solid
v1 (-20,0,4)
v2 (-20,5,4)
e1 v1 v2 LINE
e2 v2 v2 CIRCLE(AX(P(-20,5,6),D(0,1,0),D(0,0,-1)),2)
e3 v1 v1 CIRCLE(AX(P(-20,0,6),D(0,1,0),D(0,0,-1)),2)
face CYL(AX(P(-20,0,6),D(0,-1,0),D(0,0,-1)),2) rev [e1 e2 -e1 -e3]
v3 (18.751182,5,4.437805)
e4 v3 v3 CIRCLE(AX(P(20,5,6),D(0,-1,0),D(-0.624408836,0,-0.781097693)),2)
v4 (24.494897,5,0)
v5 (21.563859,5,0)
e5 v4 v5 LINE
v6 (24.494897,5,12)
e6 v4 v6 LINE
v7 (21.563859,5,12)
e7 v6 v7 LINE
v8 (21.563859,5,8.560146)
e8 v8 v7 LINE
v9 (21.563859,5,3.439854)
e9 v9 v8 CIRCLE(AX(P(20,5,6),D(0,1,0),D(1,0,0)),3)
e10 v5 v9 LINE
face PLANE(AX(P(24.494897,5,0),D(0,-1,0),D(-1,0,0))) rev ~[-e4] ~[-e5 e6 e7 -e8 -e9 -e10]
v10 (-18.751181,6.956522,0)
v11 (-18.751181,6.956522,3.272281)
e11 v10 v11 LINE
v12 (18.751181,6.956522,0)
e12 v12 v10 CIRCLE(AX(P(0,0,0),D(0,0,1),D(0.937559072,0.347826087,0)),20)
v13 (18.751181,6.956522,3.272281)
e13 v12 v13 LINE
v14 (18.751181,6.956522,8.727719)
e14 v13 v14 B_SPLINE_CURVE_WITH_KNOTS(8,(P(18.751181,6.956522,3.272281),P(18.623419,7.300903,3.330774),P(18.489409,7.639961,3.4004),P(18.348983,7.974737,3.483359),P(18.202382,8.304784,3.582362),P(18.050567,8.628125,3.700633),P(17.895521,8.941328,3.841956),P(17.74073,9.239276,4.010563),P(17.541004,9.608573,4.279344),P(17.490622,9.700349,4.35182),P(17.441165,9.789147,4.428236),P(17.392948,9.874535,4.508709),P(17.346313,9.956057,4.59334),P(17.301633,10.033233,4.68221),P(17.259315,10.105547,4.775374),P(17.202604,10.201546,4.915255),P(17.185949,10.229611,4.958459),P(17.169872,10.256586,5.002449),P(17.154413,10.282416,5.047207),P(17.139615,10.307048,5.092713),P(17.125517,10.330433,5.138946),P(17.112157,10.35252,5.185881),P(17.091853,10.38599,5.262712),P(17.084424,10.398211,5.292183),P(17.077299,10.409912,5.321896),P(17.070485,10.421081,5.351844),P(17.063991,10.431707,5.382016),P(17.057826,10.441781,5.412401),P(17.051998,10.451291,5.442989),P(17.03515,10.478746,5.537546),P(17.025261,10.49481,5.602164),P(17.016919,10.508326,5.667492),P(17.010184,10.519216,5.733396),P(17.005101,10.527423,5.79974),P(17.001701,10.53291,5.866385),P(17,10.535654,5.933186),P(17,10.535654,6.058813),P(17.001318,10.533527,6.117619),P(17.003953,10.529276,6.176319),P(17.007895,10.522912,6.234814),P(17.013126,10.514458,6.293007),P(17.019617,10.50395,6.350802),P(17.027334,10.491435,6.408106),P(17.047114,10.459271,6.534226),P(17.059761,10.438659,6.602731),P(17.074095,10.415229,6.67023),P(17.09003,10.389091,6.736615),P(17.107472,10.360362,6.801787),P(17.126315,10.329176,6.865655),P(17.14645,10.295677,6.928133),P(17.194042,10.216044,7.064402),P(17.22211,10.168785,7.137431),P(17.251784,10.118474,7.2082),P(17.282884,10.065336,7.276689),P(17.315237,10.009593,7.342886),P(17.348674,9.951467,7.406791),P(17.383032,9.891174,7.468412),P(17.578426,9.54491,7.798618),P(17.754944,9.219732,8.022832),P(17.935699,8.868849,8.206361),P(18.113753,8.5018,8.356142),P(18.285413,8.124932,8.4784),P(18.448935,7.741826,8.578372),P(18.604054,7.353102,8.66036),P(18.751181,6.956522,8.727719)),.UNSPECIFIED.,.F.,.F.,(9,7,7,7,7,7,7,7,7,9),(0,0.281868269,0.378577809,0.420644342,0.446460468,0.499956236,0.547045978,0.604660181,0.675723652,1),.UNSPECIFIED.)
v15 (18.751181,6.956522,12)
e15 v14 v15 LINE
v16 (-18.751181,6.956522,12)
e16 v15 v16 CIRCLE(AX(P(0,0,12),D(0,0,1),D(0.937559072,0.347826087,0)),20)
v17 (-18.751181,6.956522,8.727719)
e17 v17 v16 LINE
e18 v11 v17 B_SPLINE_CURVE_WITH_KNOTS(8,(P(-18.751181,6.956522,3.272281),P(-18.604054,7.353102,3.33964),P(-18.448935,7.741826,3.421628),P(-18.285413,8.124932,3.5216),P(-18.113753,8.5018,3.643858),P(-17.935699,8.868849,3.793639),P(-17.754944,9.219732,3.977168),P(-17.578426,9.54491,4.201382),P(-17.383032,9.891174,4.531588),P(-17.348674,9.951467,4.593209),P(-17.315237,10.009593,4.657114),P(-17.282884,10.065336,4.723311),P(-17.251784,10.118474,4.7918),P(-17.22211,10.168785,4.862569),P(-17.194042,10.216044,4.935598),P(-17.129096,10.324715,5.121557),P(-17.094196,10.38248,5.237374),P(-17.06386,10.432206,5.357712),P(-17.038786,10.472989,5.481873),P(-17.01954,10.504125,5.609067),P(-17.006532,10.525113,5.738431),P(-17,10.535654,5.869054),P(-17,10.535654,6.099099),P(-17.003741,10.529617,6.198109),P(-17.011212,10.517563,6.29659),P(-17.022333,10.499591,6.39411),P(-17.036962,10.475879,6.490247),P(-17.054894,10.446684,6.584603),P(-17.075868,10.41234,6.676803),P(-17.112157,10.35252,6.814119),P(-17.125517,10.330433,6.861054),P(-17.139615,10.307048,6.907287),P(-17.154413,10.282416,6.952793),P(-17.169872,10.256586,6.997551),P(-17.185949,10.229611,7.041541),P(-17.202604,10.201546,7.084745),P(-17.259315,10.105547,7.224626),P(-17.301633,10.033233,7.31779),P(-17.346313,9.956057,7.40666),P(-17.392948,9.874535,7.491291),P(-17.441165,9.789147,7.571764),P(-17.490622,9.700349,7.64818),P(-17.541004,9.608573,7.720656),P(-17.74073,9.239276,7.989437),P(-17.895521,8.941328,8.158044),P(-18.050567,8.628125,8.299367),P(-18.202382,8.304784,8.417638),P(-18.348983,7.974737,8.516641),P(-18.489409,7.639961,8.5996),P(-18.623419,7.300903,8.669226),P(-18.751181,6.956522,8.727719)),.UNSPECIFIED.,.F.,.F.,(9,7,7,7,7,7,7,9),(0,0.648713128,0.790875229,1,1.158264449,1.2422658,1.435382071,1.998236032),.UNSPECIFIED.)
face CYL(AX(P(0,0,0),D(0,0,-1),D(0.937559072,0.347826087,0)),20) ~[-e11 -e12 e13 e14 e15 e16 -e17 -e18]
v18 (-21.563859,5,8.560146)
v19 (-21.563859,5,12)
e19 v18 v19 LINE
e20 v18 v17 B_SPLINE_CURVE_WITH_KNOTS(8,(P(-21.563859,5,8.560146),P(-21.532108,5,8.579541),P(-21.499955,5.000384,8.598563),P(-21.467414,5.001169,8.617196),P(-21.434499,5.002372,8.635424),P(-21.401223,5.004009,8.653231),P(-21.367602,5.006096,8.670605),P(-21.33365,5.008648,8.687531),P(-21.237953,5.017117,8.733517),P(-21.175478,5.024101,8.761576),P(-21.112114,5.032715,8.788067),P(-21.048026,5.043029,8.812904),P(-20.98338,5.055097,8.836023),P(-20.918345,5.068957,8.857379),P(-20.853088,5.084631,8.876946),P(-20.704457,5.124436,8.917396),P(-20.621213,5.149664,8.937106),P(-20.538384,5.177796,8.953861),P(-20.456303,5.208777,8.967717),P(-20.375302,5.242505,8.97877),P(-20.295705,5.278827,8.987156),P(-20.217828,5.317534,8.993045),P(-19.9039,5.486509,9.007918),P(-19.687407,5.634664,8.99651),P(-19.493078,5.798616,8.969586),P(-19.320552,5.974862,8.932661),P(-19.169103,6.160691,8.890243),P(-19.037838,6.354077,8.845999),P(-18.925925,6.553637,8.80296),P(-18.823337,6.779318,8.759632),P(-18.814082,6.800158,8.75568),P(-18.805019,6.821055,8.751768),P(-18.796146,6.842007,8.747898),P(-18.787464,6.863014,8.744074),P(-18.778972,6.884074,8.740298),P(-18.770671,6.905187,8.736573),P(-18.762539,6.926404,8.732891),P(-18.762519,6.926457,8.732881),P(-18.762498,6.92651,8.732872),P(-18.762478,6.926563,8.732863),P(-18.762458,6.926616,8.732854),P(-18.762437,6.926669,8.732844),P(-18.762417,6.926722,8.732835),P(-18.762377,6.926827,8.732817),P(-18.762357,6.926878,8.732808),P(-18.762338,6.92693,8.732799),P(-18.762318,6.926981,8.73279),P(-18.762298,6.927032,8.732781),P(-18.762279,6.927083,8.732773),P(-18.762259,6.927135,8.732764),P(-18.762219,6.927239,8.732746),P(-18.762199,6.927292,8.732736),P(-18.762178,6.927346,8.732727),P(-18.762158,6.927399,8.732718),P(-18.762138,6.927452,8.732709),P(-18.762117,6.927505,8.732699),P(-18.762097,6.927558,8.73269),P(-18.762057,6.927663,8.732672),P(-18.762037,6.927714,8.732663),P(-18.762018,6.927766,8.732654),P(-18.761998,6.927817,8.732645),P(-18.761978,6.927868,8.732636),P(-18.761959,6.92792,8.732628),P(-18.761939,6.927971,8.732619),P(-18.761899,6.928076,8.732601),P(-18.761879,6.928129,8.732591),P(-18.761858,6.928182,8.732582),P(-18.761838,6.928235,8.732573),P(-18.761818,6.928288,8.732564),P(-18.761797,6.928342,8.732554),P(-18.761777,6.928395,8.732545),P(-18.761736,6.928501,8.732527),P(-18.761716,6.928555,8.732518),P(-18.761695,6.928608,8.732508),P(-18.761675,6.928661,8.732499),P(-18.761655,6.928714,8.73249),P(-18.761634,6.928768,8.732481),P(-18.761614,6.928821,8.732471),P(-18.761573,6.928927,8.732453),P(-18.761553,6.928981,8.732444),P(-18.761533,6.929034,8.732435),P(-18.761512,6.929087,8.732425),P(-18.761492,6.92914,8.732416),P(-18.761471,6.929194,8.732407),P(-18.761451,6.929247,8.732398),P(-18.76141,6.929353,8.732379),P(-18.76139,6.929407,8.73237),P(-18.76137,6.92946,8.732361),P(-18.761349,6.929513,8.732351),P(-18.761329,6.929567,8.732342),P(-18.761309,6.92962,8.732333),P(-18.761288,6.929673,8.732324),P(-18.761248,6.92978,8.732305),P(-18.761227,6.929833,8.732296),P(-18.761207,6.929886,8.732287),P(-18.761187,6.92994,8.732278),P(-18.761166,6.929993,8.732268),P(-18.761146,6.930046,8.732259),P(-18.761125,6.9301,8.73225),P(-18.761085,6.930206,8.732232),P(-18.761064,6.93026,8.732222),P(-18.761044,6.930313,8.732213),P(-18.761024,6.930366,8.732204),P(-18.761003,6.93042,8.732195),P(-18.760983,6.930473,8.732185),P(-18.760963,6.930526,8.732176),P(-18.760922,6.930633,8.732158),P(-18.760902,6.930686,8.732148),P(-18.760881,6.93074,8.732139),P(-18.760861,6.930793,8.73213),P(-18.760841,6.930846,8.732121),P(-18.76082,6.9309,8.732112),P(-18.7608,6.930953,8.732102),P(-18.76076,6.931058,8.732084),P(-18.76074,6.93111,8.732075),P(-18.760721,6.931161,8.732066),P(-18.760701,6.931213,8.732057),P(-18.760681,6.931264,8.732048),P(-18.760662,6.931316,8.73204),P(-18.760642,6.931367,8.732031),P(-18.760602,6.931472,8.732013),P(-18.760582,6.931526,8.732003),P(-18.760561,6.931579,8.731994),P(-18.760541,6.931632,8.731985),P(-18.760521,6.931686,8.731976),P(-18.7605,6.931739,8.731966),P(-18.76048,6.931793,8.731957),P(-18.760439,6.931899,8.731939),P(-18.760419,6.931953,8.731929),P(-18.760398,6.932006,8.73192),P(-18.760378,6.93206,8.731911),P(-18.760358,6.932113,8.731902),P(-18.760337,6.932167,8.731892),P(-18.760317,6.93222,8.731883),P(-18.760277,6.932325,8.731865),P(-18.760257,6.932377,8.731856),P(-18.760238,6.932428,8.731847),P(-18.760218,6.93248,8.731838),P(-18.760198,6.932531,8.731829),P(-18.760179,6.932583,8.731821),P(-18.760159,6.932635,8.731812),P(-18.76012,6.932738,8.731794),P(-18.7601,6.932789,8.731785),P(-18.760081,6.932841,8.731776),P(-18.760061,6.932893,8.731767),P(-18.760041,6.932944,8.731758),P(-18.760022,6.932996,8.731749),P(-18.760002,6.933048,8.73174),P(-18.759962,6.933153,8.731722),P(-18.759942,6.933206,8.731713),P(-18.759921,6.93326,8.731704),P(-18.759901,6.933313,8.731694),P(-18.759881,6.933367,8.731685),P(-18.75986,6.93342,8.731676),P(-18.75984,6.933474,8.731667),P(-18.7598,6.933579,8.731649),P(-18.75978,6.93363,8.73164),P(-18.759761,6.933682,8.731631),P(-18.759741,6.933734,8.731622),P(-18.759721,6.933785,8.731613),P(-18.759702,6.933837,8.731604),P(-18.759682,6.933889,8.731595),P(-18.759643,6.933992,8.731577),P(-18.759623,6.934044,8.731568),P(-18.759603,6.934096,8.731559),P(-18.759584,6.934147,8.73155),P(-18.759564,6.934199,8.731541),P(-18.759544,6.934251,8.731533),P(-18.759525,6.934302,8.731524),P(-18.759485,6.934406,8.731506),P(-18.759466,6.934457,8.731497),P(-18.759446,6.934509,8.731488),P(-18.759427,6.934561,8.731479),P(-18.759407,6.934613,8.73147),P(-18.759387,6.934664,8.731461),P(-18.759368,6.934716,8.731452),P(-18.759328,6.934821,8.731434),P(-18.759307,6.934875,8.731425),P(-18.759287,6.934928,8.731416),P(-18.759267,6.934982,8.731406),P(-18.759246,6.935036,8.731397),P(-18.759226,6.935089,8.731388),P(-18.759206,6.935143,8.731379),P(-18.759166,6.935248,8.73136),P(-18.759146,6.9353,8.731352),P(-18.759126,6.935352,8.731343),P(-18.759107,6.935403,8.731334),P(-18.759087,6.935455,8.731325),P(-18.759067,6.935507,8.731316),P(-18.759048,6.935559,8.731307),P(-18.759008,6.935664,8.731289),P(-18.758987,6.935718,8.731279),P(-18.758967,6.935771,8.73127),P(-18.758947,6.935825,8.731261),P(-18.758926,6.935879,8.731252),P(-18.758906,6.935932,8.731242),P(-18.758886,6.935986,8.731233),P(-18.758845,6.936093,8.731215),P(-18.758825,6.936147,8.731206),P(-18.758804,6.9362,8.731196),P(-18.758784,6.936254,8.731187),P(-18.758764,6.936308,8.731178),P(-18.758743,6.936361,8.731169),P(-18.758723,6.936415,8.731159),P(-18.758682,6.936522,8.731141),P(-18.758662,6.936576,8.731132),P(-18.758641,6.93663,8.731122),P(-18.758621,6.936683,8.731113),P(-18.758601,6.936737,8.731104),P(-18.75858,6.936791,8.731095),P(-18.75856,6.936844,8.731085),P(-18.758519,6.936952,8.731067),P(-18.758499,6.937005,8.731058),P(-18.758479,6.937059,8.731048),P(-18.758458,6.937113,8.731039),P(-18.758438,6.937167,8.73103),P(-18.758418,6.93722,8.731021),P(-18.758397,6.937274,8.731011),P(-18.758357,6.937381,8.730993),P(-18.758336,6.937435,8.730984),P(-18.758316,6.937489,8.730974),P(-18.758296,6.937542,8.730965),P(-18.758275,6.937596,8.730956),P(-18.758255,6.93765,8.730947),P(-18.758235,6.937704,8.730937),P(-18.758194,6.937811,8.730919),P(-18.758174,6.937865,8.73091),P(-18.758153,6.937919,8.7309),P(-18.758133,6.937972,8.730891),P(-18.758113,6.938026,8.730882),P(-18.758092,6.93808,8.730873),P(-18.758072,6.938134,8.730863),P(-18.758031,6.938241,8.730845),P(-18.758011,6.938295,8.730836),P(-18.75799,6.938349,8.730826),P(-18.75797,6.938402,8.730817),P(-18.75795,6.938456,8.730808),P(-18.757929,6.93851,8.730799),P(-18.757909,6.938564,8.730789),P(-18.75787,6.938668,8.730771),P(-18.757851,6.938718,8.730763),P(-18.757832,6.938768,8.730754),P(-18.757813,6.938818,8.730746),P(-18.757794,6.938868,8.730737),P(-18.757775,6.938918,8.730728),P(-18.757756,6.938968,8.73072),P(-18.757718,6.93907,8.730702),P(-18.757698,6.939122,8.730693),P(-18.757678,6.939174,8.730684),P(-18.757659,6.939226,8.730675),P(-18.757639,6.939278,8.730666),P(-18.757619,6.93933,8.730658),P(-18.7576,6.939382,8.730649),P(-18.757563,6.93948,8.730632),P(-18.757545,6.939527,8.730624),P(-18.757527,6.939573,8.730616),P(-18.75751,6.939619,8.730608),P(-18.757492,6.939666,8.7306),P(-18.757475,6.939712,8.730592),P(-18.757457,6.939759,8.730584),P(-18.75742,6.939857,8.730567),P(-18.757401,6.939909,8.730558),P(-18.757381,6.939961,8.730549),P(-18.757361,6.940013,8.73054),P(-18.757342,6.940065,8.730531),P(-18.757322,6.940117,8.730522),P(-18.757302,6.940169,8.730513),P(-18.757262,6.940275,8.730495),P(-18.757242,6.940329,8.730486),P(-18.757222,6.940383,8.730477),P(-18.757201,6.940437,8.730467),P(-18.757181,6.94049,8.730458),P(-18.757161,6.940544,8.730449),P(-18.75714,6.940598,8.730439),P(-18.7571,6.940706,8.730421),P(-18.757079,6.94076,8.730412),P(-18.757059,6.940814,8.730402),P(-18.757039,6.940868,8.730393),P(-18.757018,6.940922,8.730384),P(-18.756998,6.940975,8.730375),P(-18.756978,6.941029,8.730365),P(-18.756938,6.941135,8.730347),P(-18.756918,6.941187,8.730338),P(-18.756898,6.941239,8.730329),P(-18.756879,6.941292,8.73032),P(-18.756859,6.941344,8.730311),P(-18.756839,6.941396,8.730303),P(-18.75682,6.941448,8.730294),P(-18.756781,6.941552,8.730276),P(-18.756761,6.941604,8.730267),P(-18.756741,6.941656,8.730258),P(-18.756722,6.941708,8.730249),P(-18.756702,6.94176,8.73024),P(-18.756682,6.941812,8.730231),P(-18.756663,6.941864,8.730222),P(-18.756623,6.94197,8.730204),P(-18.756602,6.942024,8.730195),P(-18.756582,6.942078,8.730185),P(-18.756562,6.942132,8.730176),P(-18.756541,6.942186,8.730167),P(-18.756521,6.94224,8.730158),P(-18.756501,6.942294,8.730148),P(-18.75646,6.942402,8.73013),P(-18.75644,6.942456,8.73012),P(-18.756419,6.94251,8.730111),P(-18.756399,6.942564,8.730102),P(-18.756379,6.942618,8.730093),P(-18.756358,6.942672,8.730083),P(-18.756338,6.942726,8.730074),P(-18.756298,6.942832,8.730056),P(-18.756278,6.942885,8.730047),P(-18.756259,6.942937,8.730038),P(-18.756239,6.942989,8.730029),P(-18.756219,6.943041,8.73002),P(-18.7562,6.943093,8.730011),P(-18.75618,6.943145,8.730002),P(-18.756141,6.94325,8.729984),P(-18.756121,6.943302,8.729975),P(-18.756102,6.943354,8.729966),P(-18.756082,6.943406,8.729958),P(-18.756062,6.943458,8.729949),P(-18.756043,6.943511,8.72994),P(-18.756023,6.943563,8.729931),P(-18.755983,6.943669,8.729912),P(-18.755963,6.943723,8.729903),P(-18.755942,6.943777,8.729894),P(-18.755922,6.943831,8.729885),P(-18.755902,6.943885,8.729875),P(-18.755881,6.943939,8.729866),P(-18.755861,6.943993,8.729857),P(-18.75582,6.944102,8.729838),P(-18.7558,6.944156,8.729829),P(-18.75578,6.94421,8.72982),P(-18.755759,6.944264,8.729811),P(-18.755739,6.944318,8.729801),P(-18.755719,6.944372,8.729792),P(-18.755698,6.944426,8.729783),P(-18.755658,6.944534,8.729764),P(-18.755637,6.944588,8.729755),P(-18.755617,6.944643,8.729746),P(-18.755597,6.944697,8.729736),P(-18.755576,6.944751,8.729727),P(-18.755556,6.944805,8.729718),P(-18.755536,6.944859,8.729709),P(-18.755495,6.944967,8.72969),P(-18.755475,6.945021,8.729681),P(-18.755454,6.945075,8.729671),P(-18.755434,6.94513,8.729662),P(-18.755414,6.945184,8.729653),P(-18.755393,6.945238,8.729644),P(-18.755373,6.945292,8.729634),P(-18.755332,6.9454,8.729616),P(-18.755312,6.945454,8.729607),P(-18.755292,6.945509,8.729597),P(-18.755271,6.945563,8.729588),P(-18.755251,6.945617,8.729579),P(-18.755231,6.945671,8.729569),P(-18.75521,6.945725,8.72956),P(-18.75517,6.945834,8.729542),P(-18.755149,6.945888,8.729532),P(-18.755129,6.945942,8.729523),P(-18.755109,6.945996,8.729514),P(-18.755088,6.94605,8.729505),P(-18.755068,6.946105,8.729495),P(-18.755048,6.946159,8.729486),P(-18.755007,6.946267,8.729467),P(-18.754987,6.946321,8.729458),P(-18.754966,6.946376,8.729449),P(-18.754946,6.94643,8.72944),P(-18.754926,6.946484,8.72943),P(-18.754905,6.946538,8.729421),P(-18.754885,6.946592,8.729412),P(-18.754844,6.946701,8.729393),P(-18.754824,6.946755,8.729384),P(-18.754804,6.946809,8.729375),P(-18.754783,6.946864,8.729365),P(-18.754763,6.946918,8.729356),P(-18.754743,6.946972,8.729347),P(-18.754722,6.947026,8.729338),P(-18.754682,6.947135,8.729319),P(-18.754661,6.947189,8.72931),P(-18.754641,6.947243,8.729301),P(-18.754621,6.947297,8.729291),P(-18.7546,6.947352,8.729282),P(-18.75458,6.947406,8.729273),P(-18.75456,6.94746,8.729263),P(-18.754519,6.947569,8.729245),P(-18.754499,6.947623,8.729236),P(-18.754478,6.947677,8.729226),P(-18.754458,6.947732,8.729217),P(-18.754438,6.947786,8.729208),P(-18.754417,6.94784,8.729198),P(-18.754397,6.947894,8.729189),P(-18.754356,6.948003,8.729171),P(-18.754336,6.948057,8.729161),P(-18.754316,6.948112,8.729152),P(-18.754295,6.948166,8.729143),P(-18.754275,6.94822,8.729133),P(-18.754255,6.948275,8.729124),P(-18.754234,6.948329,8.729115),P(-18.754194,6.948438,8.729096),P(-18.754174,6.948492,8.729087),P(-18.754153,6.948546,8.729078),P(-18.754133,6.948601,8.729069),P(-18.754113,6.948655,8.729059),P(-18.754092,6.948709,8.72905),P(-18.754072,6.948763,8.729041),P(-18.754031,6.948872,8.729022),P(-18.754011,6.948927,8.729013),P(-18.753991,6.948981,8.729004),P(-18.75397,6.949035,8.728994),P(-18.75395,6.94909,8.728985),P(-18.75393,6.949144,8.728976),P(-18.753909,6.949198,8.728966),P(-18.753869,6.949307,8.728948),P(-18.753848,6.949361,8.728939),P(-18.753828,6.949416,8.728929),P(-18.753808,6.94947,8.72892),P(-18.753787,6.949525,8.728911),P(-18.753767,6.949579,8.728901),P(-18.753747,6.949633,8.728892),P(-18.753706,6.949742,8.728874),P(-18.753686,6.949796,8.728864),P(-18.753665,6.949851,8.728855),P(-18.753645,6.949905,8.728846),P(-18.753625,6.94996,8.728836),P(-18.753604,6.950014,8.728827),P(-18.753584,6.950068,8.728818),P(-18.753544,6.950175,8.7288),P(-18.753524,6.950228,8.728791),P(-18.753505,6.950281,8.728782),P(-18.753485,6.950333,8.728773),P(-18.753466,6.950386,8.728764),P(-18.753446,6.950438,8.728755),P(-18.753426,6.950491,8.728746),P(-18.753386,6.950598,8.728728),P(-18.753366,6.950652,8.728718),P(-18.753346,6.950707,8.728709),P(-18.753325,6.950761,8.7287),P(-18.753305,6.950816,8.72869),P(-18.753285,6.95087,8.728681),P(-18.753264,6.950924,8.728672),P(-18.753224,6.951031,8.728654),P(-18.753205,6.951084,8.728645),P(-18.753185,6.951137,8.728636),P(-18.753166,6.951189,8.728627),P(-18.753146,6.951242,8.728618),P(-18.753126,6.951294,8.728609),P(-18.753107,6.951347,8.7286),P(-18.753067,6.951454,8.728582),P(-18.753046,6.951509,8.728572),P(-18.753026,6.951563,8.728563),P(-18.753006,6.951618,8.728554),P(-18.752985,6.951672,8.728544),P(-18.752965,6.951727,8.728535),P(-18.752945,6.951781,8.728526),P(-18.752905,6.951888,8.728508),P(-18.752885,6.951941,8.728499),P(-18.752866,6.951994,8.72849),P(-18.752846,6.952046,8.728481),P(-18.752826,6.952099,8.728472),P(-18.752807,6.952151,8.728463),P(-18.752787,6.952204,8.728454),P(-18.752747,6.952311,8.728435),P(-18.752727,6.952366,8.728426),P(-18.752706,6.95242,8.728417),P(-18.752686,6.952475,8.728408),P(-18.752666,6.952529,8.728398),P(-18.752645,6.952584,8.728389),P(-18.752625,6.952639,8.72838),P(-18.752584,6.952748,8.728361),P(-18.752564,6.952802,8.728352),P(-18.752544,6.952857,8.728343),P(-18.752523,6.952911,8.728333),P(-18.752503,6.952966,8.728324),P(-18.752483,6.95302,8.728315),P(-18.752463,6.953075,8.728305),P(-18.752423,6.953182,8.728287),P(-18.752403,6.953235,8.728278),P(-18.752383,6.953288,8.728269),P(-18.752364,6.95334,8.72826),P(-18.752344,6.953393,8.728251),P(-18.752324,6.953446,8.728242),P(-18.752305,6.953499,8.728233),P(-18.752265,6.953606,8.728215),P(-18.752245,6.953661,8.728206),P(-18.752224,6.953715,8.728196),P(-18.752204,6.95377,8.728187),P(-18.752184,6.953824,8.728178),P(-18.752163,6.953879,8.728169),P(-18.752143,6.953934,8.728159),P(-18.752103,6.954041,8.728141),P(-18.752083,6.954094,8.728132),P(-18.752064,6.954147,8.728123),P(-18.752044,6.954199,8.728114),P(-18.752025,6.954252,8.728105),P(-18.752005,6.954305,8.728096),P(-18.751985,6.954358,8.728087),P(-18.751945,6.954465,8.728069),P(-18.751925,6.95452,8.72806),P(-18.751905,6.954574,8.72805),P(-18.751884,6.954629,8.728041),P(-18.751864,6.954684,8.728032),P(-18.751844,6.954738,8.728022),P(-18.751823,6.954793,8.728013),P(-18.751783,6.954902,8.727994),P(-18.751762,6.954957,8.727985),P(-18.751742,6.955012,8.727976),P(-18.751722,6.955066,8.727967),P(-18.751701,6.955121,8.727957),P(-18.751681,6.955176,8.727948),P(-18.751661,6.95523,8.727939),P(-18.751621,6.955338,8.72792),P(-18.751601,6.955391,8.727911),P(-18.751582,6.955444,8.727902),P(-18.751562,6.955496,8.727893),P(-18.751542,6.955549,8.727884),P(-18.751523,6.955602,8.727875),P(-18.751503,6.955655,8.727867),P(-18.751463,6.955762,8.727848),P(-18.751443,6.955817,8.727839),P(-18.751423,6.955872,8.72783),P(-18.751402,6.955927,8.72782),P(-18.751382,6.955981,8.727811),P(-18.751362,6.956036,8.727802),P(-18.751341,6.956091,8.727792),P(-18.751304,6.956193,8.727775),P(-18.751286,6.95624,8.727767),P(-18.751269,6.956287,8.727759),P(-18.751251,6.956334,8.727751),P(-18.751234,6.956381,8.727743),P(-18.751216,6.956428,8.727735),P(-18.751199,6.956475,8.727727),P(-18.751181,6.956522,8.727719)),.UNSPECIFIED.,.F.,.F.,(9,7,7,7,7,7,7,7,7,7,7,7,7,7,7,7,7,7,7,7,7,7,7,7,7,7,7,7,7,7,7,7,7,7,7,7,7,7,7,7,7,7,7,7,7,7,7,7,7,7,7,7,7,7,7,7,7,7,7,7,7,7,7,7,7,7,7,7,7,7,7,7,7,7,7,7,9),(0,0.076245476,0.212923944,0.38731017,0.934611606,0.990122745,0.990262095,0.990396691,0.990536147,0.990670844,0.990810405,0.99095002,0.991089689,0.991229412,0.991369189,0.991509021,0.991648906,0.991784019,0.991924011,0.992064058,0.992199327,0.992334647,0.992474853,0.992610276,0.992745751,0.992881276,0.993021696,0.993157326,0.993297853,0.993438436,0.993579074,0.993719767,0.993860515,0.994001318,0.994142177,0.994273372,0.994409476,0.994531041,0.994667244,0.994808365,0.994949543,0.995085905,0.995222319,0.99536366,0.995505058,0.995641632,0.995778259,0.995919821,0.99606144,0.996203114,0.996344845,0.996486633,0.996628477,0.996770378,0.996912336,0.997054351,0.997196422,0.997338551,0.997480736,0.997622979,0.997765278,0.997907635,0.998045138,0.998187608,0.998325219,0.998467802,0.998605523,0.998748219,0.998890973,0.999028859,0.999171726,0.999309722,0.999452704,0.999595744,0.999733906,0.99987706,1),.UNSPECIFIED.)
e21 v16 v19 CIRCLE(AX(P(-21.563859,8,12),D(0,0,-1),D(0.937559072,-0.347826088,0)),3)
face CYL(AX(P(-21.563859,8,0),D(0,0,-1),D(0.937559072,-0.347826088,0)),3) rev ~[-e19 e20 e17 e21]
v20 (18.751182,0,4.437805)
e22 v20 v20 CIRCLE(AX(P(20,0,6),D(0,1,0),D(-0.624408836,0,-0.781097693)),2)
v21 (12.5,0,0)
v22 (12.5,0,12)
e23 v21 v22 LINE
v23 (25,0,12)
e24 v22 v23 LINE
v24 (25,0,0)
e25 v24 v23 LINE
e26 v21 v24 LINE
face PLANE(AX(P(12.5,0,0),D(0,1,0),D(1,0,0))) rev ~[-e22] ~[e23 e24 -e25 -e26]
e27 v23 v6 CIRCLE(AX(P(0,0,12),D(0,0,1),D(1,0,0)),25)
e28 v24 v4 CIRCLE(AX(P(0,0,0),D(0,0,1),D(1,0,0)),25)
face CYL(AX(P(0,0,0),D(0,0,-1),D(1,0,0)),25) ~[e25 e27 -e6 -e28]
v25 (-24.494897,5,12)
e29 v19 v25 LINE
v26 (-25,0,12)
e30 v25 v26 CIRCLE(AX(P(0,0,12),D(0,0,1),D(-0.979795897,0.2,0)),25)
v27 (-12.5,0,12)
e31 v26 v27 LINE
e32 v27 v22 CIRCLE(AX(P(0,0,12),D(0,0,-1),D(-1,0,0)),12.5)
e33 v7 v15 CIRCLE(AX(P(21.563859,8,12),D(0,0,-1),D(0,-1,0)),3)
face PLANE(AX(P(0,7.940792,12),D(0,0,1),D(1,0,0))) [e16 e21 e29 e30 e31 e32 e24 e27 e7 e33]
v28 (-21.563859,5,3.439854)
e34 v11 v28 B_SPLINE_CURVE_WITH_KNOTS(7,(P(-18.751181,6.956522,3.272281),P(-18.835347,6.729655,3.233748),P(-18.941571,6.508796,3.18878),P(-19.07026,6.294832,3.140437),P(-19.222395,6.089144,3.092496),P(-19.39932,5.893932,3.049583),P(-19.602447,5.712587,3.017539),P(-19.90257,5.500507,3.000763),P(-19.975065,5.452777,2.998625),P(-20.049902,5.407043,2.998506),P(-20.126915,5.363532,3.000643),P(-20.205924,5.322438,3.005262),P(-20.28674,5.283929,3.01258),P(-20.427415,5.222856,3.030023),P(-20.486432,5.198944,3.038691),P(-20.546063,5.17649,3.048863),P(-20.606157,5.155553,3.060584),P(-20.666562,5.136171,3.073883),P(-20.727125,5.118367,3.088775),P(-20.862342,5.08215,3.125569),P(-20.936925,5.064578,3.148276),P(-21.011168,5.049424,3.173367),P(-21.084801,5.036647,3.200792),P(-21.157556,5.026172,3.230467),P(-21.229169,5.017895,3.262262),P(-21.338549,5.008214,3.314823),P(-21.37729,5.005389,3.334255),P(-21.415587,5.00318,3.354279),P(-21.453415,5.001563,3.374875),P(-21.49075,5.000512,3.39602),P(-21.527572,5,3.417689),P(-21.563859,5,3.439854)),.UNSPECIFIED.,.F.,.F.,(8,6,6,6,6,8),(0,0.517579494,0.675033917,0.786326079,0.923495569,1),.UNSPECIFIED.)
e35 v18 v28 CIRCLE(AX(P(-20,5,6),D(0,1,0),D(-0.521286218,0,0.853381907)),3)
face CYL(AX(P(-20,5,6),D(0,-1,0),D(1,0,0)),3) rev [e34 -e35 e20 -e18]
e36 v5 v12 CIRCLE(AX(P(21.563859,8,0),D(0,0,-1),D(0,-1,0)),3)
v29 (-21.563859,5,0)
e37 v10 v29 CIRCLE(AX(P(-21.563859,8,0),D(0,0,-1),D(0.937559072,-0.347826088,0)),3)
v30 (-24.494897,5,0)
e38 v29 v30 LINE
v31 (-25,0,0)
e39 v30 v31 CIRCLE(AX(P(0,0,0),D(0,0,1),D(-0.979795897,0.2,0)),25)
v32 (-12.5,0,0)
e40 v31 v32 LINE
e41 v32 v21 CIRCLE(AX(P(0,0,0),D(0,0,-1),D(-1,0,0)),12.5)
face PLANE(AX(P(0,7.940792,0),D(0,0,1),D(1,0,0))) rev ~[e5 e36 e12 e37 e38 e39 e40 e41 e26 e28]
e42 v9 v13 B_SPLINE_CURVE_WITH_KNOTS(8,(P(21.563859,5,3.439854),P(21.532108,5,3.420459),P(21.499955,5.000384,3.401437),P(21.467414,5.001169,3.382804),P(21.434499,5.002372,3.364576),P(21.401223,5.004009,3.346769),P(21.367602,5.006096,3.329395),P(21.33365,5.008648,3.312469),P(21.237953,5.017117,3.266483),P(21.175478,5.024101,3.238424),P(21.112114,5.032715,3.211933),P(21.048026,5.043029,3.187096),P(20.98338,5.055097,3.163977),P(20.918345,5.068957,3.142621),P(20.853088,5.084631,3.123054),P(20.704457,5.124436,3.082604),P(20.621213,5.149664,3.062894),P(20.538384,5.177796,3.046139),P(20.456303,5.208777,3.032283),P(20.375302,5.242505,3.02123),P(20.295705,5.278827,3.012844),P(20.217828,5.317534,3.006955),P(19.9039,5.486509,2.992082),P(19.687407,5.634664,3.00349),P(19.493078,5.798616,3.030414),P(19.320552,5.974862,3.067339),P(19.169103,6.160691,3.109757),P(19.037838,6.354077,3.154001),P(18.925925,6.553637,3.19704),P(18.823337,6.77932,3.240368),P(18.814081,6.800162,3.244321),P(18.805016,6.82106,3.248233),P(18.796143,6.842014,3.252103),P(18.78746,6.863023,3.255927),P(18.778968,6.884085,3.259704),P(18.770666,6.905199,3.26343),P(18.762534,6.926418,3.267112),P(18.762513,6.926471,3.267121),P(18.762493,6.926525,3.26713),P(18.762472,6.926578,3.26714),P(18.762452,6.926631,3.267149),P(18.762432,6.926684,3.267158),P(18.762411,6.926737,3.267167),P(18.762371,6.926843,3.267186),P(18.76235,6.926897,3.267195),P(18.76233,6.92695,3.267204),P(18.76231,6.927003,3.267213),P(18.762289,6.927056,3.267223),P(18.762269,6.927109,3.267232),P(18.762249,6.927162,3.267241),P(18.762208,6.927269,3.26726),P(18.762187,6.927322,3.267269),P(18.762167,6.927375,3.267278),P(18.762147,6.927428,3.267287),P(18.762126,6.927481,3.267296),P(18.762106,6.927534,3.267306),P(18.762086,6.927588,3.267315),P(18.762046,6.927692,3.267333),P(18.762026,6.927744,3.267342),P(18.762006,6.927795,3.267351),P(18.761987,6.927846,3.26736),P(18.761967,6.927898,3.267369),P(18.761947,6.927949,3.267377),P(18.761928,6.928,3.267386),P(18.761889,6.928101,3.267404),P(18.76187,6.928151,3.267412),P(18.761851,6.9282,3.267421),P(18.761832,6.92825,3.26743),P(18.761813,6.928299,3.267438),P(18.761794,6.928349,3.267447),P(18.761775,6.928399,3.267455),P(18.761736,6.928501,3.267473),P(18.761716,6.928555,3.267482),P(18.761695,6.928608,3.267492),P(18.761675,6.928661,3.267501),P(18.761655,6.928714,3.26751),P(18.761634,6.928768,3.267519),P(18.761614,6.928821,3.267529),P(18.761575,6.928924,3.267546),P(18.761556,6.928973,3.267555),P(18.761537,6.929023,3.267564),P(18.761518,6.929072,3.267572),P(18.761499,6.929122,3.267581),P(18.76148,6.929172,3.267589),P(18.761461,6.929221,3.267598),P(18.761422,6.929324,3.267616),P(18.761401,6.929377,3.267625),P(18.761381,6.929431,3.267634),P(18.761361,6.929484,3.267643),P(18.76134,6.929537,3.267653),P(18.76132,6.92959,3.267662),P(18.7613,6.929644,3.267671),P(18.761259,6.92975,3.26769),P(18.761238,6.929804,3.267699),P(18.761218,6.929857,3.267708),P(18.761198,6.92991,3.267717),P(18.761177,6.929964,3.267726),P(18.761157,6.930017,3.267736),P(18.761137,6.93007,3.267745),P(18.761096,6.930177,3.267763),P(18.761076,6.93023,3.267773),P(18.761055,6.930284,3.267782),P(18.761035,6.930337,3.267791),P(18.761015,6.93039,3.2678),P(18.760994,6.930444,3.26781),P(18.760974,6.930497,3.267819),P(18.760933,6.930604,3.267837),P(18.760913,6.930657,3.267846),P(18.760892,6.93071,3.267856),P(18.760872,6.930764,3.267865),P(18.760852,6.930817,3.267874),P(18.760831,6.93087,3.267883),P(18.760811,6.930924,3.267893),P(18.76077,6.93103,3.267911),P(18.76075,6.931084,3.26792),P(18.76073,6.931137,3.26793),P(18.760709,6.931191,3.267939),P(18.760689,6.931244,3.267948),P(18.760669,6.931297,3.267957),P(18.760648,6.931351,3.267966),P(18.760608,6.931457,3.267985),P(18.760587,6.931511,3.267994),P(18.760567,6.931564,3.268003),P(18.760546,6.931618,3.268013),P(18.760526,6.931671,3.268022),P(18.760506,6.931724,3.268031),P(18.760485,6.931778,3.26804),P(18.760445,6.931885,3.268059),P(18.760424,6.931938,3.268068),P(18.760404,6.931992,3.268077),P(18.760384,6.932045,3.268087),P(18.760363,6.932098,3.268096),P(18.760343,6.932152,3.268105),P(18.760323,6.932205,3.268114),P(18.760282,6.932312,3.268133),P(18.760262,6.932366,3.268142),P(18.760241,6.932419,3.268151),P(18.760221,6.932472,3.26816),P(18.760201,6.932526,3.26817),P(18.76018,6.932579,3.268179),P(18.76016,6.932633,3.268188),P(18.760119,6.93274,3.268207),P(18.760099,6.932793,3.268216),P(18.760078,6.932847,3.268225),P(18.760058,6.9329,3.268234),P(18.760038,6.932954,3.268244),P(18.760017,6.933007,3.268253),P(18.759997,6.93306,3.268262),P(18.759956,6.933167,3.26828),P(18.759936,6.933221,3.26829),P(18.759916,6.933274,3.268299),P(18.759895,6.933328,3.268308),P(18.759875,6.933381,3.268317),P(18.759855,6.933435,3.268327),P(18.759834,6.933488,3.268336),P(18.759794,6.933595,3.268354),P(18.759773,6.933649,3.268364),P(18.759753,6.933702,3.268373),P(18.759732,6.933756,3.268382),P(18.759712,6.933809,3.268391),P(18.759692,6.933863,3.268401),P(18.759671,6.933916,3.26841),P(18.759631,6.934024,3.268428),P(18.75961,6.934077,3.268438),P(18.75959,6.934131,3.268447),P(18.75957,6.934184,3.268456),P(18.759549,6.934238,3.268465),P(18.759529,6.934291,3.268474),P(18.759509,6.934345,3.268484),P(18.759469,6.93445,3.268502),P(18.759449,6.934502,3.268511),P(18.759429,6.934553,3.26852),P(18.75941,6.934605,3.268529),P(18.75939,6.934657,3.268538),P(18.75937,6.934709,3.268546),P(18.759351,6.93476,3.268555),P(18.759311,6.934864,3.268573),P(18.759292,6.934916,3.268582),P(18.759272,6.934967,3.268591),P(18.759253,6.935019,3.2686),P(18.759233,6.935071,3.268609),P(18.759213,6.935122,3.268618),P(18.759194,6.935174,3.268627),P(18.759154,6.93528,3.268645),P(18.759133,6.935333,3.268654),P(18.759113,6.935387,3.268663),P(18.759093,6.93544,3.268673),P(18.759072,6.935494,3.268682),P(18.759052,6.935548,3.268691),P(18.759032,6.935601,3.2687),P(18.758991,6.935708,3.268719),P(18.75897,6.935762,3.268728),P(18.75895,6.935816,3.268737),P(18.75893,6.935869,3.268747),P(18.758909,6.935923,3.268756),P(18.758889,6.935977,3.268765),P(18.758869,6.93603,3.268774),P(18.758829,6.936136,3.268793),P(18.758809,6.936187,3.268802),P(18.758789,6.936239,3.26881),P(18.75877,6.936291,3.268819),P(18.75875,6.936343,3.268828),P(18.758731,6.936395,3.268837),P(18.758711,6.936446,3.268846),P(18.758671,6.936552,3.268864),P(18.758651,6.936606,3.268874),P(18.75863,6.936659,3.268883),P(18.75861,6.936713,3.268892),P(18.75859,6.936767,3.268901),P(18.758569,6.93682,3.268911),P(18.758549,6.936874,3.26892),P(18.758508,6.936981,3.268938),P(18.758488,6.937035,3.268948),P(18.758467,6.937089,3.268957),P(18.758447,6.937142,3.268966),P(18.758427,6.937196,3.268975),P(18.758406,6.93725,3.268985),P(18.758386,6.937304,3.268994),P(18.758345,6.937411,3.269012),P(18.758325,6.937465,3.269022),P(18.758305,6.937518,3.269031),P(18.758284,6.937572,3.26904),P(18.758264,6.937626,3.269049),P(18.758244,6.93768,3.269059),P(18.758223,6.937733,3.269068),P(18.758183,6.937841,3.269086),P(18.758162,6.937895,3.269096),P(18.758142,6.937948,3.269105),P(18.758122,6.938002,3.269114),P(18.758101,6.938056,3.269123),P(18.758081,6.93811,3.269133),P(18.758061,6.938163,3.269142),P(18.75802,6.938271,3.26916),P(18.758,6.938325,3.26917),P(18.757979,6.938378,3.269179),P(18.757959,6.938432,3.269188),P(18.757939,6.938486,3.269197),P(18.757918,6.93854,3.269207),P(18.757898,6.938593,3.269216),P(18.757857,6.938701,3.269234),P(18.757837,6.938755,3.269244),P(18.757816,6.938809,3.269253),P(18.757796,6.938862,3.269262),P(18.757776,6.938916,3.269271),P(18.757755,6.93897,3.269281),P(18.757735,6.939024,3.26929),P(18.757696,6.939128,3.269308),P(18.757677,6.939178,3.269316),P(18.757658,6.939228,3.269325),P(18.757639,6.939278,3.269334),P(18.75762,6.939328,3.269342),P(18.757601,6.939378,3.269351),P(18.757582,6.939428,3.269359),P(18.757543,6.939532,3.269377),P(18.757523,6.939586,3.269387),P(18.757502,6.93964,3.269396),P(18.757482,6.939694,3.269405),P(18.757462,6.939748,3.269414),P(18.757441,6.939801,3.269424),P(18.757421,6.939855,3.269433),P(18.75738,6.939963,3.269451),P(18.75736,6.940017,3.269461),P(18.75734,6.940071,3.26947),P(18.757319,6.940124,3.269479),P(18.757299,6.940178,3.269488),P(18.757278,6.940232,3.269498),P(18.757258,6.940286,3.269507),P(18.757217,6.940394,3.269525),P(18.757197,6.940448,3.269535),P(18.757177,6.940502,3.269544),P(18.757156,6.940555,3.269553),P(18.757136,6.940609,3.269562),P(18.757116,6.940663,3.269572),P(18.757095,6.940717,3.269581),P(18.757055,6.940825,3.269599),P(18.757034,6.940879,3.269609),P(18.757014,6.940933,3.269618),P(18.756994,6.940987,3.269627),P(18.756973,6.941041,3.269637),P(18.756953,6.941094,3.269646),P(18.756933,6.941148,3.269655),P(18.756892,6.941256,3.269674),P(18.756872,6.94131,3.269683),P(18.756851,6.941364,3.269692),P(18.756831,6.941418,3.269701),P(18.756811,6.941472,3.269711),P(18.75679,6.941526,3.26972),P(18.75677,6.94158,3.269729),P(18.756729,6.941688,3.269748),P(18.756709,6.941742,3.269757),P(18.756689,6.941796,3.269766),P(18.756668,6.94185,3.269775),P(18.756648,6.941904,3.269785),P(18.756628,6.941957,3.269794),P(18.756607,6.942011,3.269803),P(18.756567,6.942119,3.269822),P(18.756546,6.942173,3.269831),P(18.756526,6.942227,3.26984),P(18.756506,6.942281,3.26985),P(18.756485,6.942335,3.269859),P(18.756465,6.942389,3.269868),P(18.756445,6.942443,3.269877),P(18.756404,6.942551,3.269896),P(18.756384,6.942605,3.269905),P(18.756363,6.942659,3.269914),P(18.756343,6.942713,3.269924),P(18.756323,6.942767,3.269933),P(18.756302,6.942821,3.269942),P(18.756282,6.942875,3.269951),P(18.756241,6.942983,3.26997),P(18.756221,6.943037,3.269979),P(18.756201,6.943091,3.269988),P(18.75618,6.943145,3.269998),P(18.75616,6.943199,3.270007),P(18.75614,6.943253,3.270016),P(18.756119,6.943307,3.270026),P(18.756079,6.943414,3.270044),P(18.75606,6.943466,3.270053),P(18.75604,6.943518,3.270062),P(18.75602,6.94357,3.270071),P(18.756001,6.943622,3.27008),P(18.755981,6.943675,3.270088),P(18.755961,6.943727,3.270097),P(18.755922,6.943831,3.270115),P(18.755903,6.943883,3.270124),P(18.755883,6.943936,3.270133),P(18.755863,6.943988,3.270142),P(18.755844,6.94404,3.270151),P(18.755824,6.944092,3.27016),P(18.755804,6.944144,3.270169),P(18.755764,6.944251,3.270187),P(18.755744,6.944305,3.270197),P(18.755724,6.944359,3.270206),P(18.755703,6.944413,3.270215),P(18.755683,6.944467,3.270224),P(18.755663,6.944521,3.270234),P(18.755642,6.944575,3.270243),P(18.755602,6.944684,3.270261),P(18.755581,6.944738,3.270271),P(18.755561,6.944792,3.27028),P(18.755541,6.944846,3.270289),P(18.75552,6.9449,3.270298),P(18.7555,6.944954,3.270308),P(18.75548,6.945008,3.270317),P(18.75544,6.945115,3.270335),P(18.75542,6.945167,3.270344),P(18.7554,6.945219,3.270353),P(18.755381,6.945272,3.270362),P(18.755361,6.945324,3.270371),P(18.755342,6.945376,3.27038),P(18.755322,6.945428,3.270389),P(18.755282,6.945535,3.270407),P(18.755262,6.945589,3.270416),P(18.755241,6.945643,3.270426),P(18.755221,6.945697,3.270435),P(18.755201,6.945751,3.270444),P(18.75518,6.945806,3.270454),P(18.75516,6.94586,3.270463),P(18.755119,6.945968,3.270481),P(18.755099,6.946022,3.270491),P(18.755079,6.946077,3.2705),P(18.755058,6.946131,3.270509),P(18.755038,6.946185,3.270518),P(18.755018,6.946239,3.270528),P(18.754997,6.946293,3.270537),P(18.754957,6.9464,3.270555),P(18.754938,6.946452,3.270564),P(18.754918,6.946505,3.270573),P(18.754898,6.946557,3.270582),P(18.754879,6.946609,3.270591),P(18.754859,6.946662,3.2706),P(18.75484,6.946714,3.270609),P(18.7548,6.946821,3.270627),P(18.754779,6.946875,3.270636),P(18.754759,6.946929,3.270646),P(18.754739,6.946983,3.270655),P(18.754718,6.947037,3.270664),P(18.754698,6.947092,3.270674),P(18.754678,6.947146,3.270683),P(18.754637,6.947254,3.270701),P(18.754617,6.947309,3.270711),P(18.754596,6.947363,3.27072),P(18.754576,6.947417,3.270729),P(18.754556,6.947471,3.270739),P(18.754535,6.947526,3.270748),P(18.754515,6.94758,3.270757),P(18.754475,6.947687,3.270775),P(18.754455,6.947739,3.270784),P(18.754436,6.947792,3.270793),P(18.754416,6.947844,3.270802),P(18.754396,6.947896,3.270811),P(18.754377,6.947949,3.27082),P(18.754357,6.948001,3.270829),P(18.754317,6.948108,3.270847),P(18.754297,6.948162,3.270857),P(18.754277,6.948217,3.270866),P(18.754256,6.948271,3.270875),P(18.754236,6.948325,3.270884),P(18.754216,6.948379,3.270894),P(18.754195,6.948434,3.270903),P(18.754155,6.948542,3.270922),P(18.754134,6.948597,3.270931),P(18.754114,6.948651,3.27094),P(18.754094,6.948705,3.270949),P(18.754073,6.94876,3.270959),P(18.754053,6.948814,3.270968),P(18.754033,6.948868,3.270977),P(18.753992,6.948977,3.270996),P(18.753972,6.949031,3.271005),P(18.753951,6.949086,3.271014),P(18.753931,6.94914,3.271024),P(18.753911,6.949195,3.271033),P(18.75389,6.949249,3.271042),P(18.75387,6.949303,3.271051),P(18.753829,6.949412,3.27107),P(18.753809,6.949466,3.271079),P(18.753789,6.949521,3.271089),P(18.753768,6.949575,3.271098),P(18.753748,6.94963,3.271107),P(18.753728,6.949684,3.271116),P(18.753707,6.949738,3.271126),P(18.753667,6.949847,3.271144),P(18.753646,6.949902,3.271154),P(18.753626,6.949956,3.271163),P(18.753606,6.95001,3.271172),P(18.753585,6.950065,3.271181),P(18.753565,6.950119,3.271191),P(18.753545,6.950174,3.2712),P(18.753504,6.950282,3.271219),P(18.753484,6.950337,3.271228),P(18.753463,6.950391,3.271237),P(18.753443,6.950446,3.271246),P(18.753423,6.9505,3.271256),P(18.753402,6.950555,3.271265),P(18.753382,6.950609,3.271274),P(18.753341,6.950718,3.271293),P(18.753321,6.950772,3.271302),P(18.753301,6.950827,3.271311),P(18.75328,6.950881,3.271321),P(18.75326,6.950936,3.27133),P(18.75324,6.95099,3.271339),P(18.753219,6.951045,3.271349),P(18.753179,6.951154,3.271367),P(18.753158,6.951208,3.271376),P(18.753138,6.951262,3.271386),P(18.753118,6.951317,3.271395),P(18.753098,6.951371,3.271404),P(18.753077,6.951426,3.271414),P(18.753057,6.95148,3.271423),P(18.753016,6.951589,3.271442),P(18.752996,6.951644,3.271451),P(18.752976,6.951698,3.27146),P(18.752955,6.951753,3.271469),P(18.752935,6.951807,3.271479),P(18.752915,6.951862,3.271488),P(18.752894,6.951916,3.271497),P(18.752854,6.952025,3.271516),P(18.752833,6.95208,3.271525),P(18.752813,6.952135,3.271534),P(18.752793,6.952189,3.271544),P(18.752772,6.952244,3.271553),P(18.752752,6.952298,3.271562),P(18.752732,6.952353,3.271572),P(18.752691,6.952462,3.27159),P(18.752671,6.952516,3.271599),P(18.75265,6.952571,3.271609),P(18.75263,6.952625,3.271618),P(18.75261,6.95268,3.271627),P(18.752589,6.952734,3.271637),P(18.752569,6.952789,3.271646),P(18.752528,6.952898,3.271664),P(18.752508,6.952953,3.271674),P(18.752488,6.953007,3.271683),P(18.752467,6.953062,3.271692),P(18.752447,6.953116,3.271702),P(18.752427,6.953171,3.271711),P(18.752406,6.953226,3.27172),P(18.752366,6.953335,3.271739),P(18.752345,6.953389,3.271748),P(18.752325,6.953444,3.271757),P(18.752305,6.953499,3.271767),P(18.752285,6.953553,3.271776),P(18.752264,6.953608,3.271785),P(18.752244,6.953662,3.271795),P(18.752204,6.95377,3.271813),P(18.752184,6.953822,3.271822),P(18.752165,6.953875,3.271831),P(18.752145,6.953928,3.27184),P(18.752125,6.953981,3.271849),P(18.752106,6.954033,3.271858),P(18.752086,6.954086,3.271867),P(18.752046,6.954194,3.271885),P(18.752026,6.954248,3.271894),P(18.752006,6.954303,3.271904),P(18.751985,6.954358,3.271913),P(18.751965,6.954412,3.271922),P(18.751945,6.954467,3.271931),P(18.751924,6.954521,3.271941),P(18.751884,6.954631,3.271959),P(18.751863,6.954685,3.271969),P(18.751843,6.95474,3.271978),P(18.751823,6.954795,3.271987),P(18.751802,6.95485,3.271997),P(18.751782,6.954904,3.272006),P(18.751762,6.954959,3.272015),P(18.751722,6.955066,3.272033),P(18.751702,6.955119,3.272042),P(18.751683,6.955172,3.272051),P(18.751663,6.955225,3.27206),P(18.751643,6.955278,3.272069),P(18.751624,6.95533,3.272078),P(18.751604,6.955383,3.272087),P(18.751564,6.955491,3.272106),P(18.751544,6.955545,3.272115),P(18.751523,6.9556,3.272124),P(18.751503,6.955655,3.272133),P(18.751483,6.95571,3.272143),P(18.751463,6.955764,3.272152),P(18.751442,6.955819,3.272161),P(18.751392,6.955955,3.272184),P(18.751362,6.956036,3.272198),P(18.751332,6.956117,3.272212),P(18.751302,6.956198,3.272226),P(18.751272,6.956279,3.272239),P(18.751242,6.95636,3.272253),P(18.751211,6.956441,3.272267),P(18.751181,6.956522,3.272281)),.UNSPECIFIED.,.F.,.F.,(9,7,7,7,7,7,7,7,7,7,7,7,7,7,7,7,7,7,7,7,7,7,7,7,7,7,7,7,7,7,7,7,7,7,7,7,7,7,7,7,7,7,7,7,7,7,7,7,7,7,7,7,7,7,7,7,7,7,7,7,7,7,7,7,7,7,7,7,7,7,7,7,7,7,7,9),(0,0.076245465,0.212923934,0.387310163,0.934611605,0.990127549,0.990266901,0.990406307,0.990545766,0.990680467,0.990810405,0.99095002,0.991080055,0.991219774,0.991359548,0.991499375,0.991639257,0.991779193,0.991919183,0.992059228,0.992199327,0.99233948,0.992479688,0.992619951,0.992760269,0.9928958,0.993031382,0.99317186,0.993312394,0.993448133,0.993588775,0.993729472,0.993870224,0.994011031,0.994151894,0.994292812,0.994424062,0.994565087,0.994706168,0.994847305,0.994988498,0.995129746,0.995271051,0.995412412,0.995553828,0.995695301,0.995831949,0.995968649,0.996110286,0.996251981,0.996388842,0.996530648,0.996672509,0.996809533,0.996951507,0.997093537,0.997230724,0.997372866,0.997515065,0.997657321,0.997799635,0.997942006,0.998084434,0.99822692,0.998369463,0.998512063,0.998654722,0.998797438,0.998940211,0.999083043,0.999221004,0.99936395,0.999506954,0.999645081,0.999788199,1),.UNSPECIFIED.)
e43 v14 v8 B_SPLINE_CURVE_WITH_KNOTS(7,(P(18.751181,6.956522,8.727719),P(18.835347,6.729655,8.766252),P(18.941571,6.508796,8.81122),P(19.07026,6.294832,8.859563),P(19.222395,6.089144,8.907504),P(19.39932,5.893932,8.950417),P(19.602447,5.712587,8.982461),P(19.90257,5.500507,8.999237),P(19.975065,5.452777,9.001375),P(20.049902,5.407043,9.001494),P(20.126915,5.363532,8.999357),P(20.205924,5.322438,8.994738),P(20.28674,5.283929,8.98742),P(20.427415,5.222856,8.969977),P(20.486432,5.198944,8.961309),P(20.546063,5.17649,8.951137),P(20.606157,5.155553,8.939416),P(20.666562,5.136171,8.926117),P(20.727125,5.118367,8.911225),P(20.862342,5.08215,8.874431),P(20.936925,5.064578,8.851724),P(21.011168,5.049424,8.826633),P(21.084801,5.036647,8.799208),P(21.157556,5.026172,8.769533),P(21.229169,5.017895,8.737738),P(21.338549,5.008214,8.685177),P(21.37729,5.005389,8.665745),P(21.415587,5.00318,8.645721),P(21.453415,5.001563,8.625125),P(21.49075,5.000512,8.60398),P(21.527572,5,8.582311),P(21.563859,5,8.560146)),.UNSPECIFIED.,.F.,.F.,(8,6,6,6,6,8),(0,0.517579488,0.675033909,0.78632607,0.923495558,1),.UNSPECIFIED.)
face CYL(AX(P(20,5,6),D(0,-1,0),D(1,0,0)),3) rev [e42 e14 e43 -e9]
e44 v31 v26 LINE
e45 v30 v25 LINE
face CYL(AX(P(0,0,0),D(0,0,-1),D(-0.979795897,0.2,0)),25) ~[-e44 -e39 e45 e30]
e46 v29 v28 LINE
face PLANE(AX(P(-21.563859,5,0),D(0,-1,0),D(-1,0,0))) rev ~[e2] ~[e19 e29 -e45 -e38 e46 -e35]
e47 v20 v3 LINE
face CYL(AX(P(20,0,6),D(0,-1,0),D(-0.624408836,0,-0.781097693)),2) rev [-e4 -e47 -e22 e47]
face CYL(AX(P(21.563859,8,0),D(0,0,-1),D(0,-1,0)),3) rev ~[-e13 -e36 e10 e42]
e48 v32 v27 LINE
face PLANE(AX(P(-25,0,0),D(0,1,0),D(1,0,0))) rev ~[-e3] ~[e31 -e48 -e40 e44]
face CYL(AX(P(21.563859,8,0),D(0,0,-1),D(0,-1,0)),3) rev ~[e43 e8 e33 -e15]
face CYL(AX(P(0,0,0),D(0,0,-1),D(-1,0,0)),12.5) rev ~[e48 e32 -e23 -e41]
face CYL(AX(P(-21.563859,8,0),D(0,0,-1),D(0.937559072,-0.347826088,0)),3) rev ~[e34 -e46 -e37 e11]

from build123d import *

# Parameters (mm, degrees)
BOSS_EXTRUDE1_DEPTH = 12
SKETCH3_R           = 2
CUT_EXTRUDE1_DEPTH  = 10
SKETCH4_R           = 3
CUT_EXTRUDE2_DEPTH  = 10


with BuildPart() as part:
    # Sketch2 → Boss-Extrude1 (new body)
    with BuildSketch(Plane.XY):
        with BuildLine():
            Line((-25, 0), (-12.5, 0))
            ThreePointArc((-12.5, 0), (0, 12.5), (12.5, 0))
            Line((12.5, 0), (25, 0))
            ThreePointArc((25, 0), (24.873403825, 2.51272405), (24.494897428, 5))
            Line((24.494897428, 5), (21.563858653, 5))
            ThreePointArc((21.563858653, 5), (19.850737931, 5.537233793), (18.751181437, 6.956521739))
            ThreePointArc((18.751181437, 6.956521739), (0, 20), (-18.751181437, 6.956521739))
            ThreePointArc((-18.751181437, 6.956521739), (-19.850737931, 5.537233793), (-21.563858653, 5))
            Line((-21.563858653, 5), (-24.494897428, 5))
            ThreePointArc((-24.494897428, 5), (-24.873403825, 2.51272405), (-25, 0))
        make_face()
    extrude(amount=BOSS_EXTRUDE1_DEPTH)

    # Sketch3 → Cut-Extrude1 (cut)
    with BuildSketch(Plane(origin=(0, 0, 0), x_dir=(1, 0, 0), z_dir=(0, 1, 0))):
        with Locations(Location((20, -6, 0), (0, 0, 128.638810709))):
            Circle(SKETCH3_R)
        with Locations(Location((-20, -6, 0), (0, 0, 90))):
            Circle(SKETCH3_R)
    extrude(amount=CUT_EXTRUDE1_DEPTH, mode=Mode.SUBTRACT)

    # Sketch4 → Cut-Extrude2 (cut)
    with BuildSketch(Plane(origin=(0, 5, 0), x_dir=(1, 0, 0), z_dir=(0, 1, 0))):
        with Locations((20, -6)):
            Circle(SKETCH4_R)
        with Locations((-20, -6)):
            Circle(SKETCH4_R)
    extrude(amount=CUT_EXTRUDE2_DEPTH, mode=Mode.SUBTRACT)


solid = part.part
